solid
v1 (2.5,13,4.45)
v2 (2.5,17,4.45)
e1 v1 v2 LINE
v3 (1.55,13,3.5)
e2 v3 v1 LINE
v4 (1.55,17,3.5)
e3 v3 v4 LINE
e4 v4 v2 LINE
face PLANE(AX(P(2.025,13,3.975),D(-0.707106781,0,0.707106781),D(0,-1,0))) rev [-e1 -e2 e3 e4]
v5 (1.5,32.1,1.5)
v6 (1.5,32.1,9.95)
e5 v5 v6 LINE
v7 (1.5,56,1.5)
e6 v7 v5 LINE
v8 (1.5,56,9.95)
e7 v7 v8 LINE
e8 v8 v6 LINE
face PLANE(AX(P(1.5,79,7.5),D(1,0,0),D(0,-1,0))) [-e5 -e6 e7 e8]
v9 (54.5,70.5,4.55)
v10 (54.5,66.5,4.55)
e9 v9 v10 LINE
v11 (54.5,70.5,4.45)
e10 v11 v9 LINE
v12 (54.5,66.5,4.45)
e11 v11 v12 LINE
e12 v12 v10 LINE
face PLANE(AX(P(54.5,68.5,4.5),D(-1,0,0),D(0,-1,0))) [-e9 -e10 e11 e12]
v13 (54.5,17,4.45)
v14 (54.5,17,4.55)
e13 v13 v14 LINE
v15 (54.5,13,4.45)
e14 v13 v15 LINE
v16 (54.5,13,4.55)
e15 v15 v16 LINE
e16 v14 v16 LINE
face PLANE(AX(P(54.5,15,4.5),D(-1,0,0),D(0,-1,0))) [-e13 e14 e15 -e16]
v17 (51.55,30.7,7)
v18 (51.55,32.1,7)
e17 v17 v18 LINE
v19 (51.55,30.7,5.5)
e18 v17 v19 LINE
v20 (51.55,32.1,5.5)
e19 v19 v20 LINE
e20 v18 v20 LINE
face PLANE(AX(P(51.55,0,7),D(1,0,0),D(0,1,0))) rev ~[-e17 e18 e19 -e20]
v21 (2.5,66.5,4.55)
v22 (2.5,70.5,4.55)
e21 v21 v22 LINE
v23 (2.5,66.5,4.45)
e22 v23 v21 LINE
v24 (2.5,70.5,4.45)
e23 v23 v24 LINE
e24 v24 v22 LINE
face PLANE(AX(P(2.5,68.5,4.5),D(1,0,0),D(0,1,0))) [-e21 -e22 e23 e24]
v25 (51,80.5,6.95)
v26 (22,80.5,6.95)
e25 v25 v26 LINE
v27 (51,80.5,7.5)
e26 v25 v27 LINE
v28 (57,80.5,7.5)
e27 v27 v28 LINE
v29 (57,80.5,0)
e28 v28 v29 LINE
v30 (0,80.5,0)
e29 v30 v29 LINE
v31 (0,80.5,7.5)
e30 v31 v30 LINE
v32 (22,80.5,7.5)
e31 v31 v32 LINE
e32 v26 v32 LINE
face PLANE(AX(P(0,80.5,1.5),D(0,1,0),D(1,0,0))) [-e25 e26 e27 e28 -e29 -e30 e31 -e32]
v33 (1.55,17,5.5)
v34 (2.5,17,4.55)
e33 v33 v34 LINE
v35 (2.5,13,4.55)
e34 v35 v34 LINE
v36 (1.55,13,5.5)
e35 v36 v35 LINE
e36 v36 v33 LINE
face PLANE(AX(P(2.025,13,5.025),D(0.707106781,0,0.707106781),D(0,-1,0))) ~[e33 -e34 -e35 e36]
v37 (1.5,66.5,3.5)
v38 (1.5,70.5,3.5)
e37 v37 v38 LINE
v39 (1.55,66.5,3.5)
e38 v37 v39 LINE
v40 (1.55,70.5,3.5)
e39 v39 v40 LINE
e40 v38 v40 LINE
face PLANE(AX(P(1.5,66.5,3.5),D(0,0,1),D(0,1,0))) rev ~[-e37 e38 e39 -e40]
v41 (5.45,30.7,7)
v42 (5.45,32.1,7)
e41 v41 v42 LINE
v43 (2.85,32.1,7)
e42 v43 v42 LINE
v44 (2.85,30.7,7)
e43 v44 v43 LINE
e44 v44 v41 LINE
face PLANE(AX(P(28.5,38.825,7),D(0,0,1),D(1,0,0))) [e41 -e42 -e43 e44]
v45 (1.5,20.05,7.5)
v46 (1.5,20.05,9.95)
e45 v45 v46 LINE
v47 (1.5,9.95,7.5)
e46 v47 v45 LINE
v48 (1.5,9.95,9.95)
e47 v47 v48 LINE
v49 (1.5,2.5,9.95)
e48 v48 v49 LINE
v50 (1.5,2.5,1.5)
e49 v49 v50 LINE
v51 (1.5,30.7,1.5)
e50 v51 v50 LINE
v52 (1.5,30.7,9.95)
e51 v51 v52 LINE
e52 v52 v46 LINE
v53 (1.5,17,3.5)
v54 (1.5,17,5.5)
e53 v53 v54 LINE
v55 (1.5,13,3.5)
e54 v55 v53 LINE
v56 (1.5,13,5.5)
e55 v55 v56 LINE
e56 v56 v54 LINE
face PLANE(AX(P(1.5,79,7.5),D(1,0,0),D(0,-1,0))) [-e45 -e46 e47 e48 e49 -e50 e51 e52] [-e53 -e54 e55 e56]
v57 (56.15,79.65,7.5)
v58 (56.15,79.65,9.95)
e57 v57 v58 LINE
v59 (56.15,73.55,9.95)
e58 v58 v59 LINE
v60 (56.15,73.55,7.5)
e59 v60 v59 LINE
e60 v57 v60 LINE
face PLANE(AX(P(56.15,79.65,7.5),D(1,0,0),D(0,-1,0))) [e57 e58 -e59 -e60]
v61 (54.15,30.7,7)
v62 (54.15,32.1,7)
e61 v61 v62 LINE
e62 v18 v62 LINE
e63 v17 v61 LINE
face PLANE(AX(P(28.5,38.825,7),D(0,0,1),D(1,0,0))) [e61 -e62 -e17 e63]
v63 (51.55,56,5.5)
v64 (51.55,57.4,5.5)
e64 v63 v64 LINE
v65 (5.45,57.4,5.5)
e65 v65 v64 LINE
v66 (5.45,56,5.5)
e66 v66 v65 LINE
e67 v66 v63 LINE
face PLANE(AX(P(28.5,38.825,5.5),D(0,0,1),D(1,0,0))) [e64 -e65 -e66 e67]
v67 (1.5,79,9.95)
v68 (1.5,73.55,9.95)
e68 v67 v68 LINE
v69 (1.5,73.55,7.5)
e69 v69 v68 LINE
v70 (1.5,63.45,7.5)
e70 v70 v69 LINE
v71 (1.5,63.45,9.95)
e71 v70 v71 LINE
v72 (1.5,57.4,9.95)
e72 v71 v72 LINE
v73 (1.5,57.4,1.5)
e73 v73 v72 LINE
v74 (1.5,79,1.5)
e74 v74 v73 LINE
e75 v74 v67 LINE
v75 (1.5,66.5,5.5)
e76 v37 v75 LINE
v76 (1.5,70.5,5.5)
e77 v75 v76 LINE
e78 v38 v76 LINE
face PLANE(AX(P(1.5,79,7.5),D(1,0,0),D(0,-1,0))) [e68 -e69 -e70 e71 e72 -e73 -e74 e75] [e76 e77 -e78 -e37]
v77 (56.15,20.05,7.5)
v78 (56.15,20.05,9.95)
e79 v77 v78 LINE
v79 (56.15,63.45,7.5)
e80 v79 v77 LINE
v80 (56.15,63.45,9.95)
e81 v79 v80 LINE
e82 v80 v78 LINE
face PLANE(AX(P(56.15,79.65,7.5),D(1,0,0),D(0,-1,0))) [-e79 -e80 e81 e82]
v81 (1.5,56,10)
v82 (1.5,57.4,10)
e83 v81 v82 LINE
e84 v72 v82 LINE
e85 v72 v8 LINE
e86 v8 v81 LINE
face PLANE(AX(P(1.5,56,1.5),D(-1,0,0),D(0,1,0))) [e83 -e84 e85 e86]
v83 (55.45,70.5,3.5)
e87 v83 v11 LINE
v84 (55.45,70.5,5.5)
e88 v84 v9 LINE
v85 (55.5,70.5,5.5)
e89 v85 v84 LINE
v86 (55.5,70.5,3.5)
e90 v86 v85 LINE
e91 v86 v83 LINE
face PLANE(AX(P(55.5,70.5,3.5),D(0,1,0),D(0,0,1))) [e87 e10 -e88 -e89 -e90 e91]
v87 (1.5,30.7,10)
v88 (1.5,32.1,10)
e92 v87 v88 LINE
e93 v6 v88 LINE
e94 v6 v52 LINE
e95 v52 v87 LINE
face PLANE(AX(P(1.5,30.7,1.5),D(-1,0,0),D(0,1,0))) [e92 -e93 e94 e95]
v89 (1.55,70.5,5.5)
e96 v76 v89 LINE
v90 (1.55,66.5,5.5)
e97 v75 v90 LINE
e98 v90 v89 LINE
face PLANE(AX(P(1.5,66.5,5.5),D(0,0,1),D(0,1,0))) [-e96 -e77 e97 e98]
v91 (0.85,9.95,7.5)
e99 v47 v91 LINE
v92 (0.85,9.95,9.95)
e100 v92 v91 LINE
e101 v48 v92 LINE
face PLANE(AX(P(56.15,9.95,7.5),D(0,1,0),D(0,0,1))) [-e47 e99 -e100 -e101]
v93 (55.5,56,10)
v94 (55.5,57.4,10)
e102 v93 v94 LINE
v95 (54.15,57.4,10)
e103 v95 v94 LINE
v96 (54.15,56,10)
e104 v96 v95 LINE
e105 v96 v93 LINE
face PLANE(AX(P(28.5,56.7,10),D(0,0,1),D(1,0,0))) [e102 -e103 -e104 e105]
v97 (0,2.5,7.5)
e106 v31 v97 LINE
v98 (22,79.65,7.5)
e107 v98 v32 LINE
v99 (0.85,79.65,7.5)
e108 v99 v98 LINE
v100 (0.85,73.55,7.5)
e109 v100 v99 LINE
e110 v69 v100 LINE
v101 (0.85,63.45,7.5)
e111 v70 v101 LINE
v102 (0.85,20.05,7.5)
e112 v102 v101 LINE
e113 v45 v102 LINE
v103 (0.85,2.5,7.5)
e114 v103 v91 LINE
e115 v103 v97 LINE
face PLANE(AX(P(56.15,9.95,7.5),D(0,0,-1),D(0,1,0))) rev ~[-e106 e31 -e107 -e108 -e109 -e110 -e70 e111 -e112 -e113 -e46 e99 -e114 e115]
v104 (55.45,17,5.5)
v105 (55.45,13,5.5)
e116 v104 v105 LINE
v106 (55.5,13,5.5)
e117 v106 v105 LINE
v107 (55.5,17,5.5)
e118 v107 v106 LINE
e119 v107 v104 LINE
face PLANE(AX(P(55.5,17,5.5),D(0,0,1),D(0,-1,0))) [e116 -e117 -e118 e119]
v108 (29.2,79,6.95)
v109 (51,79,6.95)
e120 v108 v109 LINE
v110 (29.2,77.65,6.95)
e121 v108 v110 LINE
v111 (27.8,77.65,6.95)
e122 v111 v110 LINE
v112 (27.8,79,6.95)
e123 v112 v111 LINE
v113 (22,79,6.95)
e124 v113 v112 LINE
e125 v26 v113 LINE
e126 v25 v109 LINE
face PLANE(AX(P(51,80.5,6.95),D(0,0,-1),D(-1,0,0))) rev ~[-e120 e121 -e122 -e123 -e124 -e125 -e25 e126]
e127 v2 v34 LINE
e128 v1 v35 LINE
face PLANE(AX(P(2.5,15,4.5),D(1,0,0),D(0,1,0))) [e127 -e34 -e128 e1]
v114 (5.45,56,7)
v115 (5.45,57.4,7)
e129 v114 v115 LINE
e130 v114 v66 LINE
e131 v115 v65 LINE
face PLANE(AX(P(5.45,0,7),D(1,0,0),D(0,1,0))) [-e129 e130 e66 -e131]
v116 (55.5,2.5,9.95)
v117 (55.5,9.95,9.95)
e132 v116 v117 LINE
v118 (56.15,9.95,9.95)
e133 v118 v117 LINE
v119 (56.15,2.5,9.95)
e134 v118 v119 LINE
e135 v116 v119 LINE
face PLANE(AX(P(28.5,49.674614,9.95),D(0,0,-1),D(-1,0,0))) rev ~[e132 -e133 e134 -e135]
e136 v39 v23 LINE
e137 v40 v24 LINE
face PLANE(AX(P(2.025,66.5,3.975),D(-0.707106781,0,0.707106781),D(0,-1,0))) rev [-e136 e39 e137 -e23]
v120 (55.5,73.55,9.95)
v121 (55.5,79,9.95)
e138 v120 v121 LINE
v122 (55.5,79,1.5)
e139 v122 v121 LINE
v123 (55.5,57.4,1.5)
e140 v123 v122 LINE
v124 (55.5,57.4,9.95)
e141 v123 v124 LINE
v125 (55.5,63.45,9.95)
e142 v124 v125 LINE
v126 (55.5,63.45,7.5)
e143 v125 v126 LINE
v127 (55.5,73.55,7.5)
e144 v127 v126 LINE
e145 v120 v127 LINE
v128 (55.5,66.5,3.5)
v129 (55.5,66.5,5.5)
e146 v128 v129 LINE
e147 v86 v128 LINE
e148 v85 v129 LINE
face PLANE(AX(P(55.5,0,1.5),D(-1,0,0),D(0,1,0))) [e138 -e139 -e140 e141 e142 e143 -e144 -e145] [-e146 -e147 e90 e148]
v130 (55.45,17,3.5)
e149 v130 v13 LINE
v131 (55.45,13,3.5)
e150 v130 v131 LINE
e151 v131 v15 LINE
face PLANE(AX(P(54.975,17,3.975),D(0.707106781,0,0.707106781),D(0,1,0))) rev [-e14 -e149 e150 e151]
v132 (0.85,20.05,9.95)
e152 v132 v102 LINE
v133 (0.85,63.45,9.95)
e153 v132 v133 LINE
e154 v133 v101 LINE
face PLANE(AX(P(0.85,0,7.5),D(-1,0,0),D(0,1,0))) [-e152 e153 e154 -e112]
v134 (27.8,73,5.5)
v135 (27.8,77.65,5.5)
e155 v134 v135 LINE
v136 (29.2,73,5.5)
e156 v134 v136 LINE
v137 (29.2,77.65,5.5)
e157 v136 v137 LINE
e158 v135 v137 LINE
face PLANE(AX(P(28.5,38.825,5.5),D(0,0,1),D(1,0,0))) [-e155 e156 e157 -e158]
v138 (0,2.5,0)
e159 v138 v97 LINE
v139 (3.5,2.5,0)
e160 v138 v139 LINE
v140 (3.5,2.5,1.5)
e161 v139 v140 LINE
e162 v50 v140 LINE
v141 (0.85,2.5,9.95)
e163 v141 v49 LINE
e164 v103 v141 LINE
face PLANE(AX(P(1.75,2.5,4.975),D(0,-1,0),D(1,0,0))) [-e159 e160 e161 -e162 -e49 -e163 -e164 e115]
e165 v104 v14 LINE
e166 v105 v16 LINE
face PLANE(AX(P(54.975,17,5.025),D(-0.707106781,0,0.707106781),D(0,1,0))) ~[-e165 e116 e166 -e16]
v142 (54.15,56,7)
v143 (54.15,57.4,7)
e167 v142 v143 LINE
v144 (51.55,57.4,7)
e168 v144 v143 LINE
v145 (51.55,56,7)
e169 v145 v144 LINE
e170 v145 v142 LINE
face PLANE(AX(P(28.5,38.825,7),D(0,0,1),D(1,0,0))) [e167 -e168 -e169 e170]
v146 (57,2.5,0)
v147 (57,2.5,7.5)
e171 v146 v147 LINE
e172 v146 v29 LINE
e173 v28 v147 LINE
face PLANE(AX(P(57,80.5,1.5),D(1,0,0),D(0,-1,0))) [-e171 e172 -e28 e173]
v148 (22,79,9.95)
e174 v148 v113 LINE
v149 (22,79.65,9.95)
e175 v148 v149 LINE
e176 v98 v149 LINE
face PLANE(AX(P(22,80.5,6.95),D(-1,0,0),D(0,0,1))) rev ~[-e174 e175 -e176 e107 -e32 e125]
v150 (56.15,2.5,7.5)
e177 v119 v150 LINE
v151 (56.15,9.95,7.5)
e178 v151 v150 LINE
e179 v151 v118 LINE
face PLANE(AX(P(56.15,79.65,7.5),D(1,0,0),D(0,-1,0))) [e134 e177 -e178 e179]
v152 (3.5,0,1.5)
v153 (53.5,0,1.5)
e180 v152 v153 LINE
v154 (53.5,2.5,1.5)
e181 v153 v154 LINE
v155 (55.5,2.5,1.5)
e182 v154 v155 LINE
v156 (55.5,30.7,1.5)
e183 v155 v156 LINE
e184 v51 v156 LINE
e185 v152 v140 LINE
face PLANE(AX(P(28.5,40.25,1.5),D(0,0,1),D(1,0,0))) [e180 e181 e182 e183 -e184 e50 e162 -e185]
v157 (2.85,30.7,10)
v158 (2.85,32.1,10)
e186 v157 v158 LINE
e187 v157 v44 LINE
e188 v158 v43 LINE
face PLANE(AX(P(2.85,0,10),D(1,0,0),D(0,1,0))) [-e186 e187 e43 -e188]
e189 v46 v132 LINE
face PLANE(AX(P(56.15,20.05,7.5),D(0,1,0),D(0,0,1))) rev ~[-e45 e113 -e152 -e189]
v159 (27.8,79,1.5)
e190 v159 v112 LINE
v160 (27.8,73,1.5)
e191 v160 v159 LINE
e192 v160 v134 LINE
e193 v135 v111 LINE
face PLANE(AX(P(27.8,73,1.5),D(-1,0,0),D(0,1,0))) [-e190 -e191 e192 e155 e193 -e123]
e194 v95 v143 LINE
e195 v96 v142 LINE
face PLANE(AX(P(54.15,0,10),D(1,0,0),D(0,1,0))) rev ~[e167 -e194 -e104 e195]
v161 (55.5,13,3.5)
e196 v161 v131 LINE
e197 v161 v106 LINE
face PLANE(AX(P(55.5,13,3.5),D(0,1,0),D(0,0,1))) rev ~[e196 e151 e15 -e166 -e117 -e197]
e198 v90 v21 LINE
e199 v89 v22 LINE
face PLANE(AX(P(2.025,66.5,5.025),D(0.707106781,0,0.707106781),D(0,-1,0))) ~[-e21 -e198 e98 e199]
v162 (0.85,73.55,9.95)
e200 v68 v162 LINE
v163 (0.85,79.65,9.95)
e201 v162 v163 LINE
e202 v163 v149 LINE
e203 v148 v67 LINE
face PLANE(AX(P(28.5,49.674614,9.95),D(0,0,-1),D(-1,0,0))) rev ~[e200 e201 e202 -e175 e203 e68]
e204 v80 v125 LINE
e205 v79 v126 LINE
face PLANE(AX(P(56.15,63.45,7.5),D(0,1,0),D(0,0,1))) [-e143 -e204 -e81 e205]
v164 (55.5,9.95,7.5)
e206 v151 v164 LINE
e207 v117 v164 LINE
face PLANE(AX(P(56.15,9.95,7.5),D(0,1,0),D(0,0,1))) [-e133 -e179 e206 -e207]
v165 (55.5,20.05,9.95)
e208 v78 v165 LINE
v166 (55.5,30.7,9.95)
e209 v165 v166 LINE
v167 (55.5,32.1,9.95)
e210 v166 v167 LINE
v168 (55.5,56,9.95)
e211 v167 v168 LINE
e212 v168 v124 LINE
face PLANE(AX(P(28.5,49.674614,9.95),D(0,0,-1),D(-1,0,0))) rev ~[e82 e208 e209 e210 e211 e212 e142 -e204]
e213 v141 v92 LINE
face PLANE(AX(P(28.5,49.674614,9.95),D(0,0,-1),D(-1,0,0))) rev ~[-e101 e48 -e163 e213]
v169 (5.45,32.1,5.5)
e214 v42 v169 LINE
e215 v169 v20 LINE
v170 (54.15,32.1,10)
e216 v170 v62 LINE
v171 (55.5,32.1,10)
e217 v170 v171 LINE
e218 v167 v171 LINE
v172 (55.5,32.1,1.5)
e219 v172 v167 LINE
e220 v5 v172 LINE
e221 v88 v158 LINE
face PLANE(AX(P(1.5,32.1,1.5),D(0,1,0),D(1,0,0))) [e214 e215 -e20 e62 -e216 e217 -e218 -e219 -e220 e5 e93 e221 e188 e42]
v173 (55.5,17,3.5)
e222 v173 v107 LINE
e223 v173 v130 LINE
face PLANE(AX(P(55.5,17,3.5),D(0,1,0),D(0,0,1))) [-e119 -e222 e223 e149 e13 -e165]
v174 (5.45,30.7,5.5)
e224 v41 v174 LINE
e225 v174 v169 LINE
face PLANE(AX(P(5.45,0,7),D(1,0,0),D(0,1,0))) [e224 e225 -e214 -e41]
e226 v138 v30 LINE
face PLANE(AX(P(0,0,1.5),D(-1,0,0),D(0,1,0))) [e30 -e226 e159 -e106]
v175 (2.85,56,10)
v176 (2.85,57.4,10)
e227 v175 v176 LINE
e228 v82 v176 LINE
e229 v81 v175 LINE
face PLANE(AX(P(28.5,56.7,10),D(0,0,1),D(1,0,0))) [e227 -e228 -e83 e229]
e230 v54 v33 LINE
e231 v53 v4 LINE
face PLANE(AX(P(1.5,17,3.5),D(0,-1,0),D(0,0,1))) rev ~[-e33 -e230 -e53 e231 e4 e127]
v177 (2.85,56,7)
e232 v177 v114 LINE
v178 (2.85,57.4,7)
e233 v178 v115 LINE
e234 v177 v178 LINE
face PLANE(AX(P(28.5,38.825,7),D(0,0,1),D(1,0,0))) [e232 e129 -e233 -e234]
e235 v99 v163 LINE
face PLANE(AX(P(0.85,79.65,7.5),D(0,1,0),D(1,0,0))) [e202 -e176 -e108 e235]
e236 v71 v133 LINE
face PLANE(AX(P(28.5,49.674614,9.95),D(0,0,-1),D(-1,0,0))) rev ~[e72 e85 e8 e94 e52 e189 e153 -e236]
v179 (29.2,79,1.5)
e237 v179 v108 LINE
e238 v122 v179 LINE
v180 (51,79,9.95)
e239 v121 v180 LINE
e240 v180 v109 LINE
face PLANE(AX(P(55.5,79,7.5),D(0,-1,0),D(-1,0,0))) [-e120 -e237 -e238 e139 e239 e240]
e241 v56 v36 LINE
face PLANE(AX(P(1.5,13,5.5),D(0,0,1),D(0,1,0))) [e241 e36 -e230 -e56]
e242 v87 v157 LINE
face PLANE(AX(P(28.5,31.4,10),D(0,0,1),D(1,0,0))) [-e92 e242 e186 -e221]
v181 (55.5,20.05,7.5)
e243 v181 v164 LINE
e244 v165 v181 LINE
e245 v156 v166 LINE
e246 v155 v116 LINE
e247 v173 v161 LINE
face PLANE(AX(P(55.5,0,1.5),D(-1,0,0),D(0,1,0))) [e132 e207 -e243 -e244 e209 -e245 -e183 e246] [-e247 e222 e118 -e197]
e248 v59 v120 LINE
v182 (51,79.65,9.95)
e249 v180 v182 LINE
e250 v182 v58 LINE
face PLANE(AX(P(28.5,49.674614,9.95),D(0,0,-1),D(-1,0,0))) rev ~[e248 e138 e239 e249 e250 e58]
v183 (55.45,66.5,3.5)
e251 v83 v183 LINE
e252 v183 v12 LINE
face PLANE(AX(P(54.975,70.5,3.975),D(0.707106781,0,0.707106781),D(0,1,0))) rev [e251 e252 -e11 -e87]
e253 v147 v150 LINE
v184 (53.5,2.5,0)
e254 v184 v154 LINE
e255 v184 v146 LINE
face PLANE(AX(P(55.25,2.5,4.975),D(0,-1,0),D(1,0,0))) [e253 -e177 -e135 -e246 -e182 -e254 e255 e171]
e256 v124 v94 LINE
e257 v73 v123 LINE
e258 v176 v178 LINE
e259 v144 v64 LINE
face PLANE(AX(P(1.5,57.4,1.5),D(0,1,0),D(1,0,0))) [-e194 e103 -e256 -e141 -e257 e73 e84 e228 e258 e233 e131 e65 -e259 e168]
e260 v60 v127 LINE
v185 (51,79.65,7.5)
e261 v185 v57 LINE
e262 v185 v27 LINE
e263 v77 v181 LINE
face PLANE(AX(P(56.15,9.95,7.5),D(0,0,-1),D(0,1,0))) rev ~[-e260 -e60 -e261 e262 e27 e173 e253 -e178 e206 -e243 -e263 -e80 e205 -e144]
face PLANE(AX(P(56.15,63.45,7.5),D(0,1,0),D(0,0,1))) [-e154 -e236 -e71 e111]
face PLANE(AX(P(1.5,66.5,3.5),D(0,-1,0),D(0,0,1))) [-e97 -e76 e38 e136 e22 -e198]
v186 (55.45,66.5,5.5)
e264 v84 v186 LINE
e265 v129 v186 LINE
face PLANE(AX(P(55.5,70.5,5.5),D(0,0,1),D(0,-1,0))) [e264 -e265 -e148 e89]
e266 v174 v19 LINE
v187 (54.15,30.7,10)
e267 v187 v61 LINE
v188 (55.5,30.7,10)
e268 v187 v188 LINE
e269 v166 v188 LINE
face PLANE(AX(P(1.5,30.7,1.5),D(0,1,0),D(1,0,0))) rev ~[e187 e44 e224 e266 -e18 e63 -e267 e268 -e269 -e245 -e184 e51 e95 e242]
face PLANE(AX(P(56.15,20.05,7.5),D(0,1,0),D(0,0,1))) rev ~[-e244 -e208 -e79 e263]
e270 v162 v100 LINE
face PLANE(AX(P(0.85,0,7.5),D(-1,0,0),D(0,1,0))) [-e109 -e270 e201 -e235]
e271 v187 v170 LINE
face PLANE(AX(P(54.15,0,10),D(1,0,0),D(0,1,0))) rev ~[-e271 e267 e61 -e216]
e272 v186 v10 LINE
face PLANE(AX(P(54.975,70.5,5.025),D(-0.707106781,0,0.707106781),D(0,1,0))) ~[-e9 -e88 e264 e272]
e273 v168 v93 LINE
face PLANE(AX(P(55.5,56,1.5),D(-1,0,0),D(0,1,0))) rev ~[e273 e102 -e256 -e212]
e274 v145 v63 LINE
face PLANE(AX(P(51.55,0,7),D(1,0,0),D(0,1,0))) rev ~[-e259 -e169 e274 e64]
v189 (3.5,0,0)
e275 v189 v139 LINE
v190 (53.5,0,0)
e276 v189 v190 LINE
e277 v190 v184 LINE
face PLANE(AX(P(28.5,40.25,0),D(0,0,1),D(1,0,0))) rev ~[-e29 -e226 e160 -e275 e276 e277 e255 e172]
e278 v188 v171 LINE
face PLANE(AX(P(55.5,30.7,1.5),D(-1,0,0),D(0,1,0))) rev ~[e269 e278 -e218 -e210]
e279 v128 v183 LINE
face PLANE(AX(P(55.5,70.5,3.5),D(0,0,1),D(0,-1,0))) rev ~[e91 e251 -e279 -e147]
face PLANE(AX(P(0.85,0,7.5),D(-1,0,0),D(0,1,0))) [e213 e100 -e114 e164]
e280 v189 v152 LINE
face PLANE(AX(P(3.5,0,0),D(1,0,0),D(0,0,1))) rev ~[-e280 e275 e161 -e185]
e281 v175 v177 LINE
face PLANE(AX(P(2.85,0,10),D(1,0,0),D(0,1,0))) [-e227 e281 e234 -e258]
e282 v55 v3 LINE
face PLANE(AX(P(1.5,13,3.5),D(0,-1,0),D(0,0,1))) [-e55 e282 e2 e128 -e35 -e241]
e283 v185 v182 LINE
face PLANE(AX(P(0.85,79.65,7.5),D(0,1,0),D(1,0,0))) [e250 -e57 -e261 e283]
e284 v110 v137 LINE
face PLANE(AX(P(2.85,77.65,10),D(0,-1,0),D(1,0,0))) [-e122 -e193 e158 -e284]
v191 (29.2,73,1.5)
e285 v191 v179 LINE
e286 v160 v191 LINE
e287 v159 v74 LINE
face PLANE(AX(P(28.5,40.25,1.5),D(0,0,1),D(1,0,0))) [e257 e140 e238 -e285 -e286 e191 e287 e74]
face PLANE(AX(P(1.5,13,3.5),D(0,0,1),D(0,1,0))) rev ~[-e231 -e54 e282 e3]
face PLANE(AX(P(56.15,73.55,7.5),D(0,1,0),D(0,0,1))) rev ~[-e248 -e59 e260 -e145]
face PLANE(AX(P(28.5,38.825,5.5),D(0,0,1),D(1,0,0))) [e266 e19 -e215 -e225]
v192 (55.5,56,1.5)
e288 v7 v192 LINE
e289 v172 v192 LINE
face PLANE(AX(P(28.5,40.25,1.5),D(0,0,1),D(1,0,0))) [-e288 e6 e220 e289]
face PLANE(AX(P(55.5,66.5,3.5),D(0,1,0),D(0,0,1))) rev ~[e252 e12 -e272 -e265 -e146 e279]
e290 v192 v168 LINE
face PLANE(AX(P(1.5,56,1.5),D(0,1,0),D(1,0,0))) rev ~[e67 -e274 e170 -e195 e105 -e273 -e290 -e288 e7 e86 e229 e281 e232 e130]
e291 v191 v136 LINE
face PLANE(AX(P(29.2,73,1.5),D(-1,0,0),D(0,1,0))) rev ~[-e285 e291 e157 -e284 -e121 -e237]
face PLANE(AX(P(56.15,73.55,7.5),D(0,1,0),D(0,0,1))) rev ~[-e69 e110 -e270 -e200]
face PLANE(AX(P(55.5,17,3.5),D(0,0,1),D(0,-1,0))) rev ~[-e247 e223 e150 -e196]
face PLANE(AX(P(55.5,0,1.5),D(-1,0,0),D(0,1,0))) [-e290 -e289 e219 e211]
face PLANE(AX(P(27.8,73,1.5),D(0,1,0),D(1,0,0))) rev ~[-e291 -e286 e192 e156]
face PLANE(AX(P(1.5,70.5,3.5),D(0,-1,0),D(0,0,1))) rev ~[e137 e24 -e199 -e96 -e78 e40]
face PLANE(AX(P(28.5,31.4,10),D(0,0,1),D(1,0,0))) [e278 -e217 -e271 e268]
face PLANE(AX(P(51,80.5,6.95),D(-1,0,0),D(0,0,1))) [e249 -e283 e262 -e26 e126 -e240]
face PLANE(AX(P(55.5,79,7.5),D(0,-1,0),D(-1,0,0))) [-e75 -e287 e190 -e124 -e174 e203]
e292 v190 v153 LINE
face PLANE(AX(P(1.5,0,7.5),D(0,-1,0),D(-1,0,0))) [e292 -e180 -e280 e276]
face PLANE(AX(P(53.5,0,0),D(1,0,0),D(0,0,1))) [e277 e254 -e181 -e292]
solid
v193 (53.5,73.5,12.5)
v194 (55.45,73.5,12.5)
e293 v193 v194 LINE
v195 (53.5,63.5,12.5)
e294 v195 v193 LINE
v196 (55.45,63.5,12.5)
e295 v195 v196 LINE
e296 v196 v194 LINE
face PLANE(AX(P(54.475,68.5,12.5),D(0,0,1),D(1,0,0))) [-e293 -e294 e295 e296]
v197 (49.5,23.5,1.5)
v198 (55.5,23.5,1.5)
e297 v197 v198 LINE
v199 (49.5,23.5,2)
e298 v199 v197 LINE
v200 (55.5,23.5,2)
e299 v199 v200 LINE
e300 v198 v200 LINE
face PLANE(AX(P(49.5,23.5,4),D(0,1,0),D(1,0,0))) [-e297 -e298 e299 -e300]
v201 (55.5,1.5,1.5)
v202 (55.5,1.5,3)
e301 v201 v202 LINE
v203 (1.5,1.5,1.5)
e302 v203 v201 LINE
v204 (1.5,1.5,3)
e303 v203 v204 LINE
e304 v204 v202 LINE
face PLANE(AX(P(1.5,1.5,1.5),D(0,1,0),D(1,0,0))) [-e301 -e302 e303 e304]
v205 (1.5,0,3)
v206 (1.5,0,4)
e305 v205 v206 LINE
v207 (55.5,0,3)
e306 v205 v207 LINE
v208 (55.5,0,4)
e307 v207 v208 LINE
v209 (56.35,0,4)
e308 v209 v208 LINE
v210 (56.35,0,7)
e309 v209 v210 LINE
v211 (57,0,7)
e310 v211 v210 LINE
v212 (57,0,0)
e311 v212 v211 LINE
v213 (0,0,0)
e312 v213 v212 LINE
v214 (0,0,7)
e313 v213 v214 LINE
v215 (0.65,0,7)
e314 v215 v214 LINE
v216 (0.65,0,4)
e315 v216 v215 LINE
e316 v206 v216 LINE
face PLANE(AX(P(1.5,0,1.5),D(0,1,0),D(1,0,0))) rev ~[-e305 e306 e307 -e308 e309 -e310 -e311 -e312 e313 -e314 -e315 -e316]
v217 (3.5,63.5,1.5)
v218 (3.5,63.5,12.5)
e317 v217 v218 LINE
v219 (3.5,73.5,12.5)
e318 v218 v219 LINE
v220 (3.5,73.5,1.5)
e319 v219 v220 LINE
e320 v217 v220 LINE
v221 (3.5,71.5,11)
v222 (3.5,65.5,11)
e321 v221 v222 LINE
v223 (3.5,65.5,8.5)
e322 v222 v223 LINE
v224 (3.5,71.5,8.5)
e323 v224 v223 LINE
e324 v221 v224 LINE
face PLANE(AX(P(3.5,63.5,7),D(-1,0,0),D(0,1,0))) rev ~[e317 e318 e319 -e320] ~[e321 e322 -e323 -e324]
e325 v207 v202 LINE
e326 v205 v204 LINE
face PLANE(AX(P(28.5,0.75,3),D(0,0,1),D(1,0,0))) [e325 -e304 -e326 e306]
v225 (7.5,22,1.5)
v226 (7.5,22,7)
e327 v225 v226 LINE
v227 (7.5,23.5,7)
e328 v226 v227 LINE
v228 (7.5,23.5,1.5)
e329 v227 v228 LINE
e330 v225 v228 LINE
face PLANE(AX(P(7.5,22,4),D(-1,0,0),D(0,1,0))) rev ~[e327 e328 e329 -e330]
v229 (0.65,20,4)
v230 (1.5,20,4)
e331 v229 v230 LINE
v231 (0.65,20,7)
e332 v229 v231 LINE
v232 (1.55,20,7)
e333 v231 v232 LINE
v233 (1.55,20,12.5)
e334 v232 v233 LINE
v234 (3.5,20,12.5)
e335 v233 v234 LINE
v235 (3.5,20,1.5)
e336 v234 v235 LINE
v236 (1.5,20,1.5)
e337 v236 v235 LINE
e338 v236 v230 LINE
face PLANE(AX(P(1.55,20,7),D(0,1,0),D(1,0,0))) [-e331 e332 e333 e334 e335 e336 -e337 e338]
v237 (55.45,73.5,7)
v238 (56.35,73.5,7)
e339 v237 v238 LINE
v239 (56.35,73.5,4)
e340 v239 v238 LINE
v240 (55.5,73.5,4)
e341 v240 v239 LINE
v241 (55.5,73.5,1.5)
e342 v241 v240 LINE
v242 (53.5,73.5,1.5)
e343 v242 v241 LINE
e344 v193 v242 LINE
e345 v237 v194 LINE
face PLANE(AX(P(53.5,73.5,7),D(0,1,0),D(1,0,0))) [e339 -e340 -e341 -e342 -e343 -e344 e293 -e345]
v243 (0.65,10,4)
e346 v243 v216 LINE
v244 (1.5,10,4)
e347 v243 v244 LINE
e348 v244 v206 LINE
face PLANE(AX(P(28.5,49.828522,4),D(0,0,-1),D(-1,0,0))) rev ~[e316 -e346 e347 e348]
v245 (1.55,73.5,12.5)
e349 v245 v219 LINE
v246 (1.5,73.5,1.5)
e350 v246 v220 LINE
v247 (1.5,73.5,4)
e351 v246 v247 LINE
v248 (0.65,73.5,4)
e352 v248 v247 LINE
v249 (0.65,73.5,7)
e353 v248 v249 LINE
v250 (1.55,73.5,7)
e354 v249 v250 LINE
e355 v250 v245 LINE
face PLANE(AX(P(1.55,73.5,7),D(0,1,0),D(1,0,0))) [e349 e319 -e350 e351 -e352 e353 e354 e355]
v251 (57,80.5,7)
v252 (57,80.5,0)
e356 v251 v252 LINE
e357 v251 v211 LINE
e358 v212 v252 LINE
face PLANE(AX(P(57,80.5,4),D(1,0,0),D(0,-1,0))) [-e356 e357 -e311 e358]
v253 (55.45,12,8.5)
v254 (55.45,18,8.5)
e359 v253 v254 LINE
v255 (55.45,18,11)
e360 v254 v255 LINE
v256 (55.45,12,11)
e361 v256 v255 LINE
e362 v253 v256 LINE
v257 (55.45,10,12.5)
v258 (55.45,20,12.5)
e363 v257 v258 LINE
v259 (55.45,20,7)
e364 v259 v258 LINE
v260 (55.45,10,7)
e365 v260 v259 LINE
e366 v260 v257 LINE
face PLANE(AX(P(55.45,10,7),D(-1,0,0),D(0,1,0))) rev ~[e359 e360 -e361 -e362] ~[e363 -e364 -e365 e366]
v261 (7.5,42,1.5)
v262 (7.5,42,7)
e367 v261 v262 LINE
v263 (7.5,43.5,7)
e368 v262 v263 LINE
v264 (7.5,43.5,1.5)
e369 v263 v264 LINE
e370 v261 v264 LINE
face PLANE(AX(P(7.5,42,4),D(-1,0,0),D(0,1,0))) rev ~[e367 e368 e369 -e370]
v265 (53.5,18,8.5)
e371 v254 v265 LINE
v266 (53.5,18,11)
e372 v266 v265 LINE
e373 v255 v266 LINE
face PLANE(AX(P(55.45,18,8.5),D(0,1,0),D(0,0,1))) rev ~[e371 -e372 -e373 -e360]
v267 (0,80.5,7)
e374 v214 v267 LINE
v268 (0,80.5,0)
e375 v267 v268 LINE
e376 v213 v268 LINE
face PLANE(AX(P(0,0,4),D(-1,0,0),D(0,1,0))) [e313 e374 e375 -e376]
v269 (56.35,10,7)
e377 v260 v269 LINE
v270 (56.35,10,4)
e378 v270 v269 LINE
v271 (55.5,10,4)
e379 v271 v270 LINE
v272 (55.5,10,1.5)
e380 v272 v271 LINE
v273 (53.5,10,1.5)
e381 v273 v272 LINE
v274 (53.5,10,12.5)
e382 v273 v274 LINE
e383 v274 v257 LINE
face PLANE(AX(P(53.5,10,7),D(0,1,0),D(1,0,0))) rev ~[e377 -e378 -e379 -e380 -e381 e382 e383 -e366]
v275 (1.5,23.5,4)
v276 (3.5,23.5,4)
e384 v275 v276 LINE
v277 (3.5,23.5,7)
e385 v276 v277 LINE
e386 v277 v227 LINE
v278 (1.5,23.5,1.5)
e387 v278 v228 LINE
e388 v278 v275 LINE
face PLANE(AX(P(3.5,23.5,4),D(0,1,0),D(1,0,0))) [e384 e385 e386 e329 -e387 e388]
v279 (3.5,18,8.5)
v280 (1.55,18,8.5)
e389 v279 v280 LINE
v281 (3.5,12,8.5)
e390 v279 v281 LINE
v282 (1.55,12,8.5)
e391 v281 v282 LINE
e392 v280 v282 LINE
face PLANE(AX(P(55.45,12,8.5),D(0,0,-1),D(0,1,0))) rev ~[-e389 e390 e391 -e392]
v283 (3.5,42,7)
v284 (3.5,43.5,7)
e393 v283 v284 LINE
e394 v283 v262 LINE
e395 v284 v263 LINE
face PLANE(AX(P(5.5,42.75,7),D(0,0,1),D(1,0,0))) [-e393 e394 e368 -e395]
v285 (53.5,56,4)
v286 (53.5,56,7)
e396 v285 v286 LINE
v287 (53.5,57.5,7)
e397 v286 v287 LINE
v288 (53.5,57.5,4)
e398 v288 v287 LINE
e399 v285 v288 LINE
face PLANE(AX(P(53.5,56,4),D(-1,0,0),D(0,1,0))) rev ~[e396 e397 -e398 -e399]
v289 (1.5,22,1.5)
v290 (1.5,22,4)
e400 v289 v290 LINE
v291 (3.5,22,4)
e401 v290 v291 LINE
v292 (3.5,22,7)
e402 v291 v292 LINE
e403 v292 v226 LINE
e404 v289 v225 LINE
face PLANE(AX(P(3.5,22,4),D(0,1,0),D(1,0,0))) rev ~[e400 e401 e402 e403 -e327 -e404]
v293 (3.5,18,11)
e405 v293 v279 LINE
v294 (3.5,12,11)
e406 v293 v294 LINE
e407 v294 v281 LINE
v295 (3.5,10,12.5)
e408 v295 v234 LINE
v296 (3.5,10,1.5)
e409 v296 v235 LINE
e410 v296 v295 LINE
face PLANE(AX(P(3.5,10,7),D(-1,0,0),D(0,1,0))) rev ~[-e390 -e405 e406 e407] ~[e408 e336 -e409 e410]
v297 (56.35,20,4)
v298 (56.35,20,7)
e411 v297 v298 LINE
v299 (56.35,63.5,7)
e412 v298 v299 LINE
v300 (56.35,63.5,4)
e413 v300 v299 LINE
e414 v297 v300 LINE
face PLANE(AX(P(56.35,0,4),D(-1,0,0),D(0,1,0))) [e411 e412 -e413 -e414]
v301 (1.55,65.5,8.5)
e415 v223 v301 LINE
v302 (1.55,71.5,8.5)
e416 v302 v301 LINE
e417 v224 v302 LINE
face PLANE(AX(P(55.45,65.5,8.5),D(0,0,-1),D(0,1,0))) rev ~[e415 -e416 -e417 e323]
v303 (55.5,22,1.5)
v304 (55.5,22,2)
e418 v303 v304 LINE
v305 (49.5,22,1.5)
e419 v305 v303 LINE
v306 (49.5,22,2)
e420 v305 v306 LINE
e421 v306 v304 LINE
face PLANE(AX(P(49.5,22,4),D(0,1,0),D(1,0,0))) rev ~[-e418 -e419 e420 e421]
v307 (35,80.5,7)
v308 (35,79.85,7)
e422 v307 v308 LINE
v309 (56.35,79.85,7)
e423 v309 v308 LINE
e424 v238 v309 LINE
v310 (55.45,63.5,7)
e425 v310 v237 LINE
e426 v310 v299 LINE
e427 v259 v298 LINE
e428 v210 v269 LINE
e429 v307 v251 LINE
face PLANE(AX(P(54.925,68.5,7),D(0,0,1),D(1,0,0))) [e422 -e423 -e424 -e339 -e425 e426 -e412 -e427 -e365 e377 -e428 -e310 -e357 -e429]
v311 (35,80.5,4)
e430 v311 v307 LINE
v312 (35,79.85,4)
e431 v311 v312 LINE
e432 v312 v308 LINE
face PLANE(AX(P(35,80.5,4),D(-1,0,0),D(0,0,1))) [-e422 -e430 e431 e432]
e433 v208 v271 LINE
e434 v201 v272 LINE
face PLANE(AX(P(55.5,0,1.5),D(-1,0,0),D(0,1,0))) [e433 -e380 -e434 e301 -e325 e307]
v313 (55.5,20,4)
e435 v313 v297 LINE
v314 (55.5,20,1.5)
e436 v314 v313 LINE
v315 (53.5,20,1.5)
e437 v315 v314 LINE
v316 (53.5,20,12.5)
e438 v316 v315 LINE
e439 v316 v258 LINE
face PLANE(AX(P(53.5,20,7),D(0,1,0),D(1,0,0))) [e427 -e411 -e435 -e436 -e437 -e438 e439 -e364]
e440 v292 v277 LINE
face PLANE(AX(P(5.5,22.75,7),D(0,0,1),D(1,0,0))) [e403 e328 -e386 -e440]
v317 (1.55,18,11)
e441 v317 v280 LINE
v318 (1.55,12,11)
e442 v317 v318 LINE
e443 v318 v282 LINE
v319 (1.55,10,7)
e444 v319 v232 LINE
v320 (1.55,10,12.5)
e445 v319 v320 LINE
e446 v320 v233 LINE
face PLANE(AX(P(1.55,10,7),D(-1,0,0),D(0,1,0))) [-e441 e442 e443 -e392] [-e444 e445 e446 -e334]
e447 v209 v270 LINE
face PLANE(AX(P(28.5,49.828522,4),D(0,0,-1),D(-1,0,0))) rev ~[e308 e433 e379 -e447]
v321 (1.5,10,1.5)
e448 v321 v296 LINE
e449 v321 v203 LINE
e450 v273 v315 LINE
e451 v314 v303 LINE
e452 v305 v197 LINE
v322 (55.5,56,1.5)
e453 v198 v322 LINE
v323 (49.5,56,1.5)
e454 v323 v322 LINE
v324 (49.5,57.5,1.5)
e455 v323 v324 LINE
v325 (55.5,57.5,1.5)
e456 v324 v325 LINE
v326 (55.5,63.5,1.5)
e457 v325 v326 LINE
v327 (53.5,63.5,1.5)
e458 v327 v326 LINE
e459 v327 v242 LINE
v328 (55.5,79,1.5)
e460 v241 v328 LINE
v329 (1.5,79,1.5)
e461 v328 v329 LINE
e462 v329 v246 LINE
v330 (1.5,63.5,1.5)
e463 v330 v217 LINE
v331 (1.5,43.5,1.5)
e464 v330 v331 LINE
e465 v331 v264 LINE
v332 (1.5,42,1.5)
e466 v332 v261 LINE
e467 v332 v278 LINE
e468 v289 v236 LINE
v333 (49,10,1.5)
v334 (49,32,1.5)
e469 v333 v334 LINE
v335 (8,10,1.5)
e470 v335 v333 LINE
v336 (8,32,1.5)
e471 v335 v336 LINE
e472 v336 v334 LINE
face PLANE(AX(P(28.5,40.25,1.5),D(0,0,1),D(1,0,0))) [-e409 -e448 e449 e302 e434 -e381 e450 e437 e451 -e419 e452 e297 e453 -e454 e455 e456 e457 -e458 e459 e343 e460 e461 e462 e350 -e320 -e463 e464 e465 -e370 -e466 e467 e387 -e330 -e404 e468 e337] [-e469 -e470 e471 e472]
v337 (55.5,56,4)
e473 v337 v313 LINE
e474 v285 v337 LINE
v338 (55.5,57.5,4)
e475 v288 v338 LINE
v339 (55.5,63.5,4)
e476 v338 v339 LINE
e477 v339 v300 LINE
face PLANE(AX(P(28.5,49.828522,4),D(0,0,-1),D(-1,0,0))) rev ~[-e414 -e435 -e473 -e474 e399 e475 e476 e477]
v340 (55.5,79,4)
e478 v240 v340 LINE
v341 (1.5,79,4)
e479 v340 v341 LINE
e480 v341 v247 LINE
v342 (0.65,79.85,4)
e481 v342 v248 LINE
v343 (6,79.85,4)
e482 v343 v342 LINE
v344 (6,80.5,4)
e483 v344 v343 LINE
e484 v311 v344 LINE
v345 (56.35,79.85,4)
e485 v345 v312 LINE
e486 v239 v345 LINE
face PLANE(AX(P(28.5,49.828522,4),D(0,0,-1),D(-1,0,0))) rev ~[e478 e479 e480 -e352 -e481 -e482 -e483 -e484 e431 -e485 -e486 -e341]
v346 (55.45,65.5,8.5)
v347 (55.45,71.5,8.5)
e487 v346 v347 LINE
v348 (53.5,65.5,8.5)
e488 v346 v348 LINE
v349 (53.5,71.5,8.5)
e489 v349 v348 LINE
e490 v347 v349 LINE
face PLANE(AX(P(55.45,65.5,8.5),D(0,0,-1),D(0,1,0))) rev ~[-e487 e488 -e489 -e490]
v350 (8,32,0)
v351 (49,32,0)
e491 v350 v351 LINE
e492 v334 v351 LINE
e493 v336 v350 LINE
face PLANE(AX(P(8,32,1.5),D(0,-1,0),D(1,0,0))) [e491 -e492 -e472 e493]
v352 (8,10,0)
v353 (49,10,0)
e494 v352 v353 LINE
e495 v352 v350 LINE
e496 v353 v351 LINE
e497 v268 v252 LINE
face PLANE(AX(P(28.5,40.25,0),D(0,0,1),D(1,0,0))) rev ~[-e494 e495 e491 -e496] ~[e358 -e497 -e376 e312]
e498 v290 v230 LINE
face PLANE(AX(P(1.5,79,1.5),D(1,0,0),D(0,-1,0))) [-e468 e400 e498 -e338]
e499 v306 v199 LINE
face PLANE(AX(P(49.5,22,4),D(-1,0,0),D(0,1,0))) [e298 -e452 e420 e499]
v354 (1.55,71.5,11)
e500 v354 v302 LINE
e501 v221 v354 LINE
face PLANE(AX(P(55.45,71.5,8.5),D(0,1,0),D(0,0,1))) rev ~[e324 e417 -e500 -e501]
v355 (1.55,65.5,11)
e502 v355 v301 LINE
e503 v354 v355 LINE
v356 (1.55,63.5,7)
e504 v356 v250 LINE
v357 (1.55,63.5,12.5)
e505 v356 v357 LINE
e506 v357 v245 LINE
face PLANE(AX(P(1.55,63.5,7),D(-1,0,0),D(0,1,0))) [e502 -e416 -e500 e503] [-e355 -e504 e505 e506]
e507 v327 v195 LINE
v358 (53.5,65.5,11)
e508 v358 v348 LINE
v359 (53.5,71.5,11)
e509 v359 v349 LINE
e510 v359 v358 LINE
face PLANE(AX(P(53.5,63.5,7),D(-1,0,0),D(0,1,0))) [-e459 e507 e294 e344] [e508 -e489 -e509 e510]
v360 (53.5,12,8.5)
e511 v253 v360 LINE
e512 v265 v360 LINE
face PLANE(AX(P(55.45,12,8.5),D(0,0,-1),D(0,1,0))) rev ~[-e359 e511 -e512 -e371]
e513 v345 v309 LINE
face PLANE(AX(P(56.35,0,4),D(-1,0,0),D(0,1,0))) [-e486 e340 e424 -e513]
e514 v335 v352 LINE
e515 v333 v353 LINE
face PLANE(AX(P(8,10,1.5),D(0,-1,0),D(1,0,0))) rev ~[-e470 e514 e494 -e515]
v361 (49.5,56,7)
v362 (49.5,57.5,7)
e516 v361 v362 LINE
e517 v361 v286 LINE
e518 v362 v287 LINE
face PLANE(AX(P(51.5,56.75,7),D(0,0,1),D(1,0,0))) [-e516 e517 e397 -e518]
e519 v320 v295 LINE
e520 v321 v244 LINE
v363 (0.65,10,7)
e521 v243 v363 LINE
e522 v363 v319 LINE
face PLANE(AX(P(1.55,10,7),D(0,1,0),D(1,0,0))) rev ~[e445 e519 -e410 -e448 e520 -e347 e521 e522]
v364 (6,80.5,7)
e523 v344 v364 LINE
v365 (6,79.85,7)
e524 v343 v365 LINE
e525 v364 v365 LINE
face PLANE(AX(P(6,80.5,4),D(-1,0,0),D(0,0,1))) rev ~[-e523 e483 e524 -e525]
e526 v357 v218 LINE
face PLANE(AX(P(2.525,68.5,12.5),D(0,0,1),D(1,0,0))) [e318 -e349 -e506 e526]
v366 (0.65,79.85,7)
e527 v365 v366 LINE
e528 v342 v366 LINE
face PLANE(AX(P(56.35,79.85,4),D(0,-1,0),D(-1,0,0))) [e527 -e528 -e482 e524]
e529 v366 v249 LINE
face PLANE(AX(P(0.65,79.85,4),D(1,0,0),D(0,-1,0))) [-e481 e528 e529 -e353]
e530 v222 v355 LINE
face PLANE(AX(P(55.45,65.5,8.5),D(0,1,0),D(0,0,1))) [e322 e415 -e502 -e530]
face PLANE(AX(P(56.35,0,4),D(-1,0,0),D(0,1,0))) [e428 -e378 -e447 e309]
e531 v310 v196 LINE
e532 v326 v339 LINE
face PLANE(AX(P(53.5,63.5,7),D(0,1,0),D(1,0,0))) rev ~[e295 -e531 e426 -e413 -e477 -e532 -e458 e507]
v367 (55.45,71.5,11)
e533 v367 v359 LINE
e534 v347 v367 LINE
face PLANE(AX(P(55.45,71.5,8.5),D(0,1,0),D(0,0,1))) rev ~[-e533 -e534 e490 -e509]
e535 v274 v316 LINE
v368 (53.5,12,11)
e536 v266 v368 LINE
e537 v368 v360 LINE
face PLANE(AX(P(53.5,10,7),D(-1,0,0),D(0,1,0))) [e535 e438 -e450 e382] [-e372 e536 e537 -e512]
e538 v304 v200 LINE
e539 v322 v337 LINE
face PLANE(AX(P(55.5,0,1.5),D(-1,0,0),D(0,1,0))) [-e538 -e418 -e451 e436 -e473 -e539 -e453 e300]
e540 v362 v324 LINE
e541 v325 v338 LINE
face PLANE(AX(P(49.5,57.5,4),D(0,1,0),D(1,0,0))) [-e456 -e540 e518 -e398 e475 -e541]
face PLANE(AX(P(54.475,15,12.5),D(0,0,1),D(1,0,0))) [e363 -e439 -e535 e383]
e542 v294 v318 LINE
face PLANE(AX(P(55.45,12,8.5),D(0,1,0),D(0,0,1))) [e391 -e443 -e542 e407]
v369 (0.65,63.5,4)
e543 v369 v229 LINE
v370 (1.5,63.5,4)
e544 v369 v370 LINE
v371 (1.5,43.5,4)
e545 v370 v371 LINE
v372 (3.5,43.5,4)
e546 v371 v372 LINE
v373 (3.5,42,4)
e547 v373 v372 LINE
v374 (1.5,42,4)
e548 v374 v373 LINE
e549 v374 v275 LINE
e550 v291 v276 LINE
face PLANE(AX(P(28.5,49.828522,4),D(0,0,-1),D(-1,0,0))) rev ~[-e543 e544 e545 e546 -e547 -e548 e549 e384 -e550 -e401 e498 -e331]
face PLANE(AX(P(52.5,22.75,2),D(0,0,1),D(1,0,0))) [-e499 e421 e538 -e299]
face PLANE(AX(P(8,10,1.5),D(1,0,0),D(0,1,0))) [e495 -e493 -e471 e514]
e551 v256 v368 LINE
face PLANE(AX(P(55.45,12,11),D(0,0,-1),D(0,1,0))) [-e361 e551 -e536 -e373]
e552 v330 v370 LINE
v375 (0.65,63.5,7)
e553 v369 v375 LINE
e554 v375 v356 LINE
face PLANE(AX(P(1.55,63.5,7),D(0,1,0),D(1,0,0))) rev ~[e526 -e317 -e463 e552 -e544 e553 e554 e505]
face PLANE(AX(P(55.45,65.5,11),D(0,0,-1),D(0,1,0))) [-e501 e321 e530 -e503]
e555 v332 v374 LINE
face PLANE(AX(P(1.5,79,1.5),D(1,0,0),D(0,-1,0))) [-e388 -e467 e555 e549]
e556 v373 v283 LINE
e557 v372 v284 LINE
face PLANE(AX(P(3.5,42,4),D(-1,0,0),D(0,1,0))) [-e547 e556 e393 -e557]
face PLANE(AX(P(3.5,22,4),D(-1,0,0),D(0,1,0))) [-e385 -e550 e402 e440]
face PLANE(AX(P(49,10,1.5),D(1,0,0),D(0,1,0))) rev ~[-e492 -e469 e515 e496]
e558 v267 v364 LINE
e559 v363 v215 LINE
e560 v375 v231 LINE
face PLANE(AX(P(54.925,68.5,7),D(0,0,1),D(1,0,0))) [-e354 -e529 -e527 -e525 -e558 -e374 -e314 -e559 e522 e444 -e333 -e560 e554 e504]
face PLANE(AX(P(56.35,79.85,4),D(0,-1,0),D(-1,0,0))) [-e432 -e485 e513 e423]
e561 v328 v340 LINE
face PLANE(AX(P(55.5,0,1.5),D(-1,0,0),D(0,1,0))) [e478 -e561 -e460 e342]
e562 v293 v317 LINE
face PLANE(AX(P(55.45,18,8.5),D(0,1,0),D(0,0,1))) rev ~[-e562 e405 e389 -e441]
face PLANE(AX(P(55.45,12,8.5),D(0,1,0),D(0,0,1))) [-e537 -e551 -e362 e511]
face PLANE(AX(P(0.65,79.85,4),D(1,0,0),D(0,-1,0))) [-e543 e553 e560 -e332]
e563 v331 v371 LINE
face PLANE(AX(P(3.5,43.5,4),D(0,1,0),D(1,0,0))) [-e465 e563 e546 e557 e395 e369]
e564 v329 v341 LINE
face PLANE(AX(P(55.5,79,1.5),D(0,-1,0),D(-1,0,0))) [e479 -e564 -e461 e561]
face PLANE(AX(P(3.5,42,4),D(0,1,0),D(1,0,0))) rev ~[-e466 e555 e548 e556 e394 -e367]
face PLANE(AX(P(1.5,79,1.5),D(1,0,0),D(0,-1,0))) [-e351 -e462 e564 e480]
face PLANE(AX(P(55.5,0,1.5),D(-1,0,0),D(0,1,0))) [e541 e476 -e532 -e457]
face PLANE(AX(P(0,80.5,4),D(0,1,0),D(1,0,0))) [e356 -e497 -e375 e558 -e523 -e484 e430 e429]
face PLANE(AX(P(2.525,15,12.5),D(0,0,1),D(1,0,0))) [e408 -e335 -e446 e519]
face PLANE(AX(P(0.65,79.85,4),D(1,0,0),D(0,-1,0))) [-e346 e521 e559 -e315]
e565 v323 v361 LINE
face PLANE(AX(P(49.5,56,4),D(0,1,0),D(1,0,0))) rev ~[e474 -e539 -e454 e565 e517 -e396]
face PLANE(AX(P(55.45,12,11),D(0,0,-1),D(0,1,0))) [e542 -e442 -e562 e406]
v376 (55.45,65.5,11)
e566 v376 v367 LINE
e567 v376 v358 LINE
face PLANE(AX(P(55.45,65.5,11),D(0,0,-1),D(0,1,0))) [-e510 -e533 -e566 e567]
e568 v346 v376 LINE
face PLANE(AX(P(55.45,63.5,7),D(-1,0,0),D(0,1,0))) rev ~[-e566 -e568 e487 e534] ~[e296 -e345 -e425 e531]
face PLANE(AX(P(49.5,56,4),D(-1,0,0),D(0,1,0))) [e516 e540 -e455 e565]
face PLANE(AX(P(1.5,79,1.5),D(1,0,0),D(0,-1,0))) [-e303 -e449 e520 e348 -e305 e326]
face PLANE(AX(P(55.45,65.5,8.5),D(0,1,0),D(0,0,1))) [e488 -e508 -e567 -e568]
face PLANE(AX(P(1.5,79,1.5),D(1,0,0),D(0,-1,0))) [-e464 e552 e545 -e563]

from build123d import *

# Parameters (mm, degrees)
SKETCH_W        = 57
SKETCH_H        = 80.5
PAD_DEPTH       = 1.5
PAD001_DEPTH    = 6
PAD002_DEPTH    = 2.45
SKETCH003_W     = 54
SKETCH003_H     = 1.4
SKETCH003_W_2   = 1.4
SKETCH003_H_2   = 6
PAD003_DEPTH    = 8.5
SKETCH004_W     = 51.3
SKETCH004_H     = 77.65
POCKET_DEPTH    = 3
SKETCH005_W     = 46.1
SKETCH005_H     = 77.65
POCKET001_DEPTH = 1.5
SKETCH027_W     = 10.1
SKETCH027_H     = 2.45
POCKET003_DEPTH = 56.151
SKETCH028_W     = 4
SKETCH028_H     = 2
PAD024_DEPTH    = 1
SKETCH029_W     = 4
SKETCH029_H     = 2
PAD025_DEPTH    = 1
CHAMFER_SIZE    = 0.95
SKETCH030_W     = 3.5
SKETCH030_H     = 9.95
POCKET004_DEPTH = 2.5
SKETCH034_W     = 29
SKETCH034_H     = 3.5
POCKET008_DEPTH = 3
SKETCH006_W     = 57
SKETCH006_H     = 80.5
PAD004_DEPTH    = 1.5
PAD005_DEPTH    = 2.5
PAD006_DEPTH    = 3
SKETCH009_W     = 54
SKETCH009_H     = 1.5
PAD007_DEPTH    = 1.5
SKETCH010_W     = 6
SKETCH010_H     = 1.5
PAD008_DEPTH    = 2.5
SKETCH011_W     = 6
SKETCH011_H     = 1.5
PAD009_DEPTH    = 2.5
SKETCH012_W     = 6
SKETCH012_H     = 1.5
PAD010_DEPTH    = 2.5
SKETCH013_W     = 4
SKETCH013_H     = 1.5
PAD011_DEPTH    = 3
SKETCH014_W     = 4
SKETCH014_H     = 1.5
PAD012_DEPTH    = 3
SKETCH015_W     = 4
SKETCH015_H     = 1.5
PAD013_DEPTH    = 3
SKETCH016_W     = 4
SKETCH016_H     = 1.5
PAD014_DEPTH    = 3
SKETCH017_W     = 2
SKETCH017_H     = 10
PAD015_DEPTH    = 2.5
SKETCH018_W     = 2.85
SKETCH018_H     = 10
PAD016_DEPTH    = 3
SKETCH019_W     = 2.85
SKETCH019_H     = 10
PAD017_DEPTH    = 3
SKETCH020_W     = 2.85
SKETCH020_H     = 10
PAD018_DEPTH    = 3
SKETCH021_W     = 2.85
SKETCH021_H     = 10
PAD019_DEPTH    = 3
SKETCH022_W     = 1.95
SKETCH022_H     = 10
PAD020_DEPTH    = 5.5
SKETCH023_W     = 1.95
SKETCH023_H     = 10
PAD021_DEPTH    = 5.5
SKETCH024_W     = 1.95
SKETCH024_H     = 10
PAD022_DEPTH    = 5.5
SKETCH025_W     = 1.95
SKETCH025_H     = 10
PAD023_DEPTH    = 5.5
SKETCH026_W     = 6
SKETCH026_H     = 2.5
POCKET002_DEPTH = 55.451
SKETCH031_W     = 6
SKETCH031_H     = 1.5
POCKET005_DEPTH = 5
SKETCH032_W     = 41
SKETCH032_H     = 22
POCKET006_DEPTH = 1.5
SKETCH033_W     = 29
SKETCH033_H     = 3
POCKET007_DEPTH = 0.65


with BuildPart() as bottom:
    # Sketch → Pad (new body)
    with BuildSketch(Plane.XY):
        with Locations((28.5, 40.25)):
            Rectangle(SKETCH_W, SKETCH_H)
    extrude(amount=PAD_DEPTH)

    # Sketch001 (on Face6 of Pad) → Pad001 (join)
    with BuildSketch(Plane.XY.offset(1.5)):
        Polygon((0, 0), (0, 80.5), (57, 80.5), (57, 0), (55.5, 0), (55.5, 79), (1.5, 79), (1.5, 0), align=None)
    extrude(amount=PAD001_DEPTH)

    # Sketch002 (on Face12 of Pad001) → Pad002 (join)
    with BuildSketch(Plane.XY.offset(7.5)):
        Polygon((1.5, 0), (0.85, 0), (0.85, 79.65), (56.15, 79.65), (56.15, 0), (55.5, 0), (55.5, 79), (1.5, 79), align=None)
    extrude(amount=PAD002_DEPTH)

    # Sketch003 (on Face6 of Pad002) → Pad003 (join)
    with BuildSketch(Plane.XY.offset(1.5)):
        with Locations((28.5, 31.4)):
            Rectangle(SKETCH003_W, SKETCH003_H)
        with Locations((28.5, 56.7)):
            Rectangle(SKETCH003_W, SKETCH003_H)
        with Locations((28.5, 76)):
            Rectangle(SKETCH003_W_2, SKETCH003_H_2)
    extrude(amount=PAD003_DEPTH)

    # Sketch004 (on Face26 of Pad003) → Pocket (cut)
    with BuildSketch(Plane.XY.offset(10)):
        with Locations((28.5, 38.825)):
            Rectangle(SKETCH004_W, SKETCH004_H)
    extrude(amount=-POCKET_DEPTH, mode=Mode.SUBTRACT)

    # Sketch005 (on Face26 of Pocket) → Pocket001 (cut)
    with BuildSketch(Plane.XY.offset(7)):
        with Locations((28.5, 38.825)):
            Rectangle(SKETCH005_W, SKETCH005_H)
    extrude(amount=-POCKET001_DEPTH, mode=Mode.SUBTRACT)

    # Sketch027 (on Face19 of Pocket001) → Pocket003 (cut, through all)
    with BuildSketch(Plane.YZ.offset(56.15)):
        with Locations((15, 8.725)):
            Rectangle(SKETCH027_W, SKETCH027_H)
        with Locations((68.5, 8.725)):
            Rectangle(SKETCH027_W, SKETCH027_H)
    extrude(amount=-POCKET003_DEPTH, mode=Mode.SUBTRACT)

    # Sketch028 (on Face11 of Pocket003) → Pad024 (join)
    with BuildSketch(Plane.YZ.offset(1.5)):
        with Locations((15, 4.5)):
            Rectangle(SKETCH028_W, SKETCH028_H)
        with Locations((68.5, 4.5)):
            Rectangle(SKETCH028_W, SKETCH028_H)
    extrude(amount=PAD024_DEPTH)

    # Sketch029 (on Face15 of Pad024) → Pad025 (join)
    with BuildSketch(Plane(origin=(55.5, 0, 0), x_dir=(0, -1, 0), z_dir=(-1, 0, 0))):
        with Locations((-15, 4.5)):
            Rectangle(SKETCH029_W, SKETCH029_H)
        with Locations((-68.5, 4.5)):
            Rectangle(SKETCH029_W, SKETCH029_H)
    extrude(amount=PAD025_DEPTH)

    # Chamfer
    chamfer_edges = [bottom.edges().sort_by_distance(p)[0] for p in [
        (2.5, 15, 3.5),
        (2.5, 15, 5.5),
        (2.5, 68.5, 5.5),
        (2.5, 68.5, 3.5),
        (54.5, 68.5, 3.5),
        (54.5, 68.5, 5.5),
        (54.5, 15, 5.5),
        (54.5, 15, 3.5),
    ]]
    chamfer(chamfer_edges, length=CHAMFER_SIZE)

    # Sketch030 (on Face16 of Chamfer) → Pocket004 (cut)
    with BuildSketch(Plane.XZ):
        with Locations((1.75, 4.975)):
            Rectangle(SKETCH030_W, SKETCH030_H)
        with Locations((55.25, 4.975)):
            Rectangle(SKETCH030_W, SKETCH030_H)
    extrude(amount=-POCKET004_DEPTH, mode=Mode.SUBTRACT)

    # Sketch034 (on Face54 of Pocket004) → Pocket008 (cut)
    with BuildSketch(Plane(origin=(0, 80.5, 0), x_dir=(-1, 0, 0), z_dir=(0, 1, 0))):
        with Locations((-36.5, 8.7)):
            Rectangle(SKETCH034_W, SKETCH034_H)
    extrude(amount=-POCKET008_DEPTH, mode=Mode.SUBTRACT)


with BuildPart() as top:
    # Sketch006 → Pad004 (new body)
    with BuildSketch(Plane.XY):
        with Locations((28.5, 40.25)):
            Rectangle(SKETCH006_W, SKETCH006_H)
    extrude(amount=PAD004_DEPTH)

    # Sketch007 (on Face6 of Pad004) → Pad005 (join)
    with BuildSketch(Plane.XY.offset(1.5)):
        Polygon((0, 0), (0, 80.5), (57, 80.5), (57, 0), (55.5, 0), (55.5, 79), (1.5, 79), (1.5, 0), align=None)
    extrude(amount=PAD005_DEPTH)

    # Sketch008 (on Face12 of Pad005) → Pad006 (join)
    with BuildSketch(Plane.XY.offset(4)):
        Polygon((0, 0), (0, 80.5), (57, 80.5), (57, 0), (56.35, 0), (56.35, 79.85), (0.65, 79.85), (0.65, 0), align=None)
    extrude(amount=PAD006_DEPTH)

    # Sketch009 (on Face6 of Pad006) → Pad007 (join)
    with BuildSketch(Plane.XY.offset(1.5)):
        with Locations((28.5, 0.75)):
            Rectangle(SKETCH009_W, SKETCH009_H)
    extrude(amount=PAD007_DEPTH)

    # Sketch010 (on Face20 of Pad007) → Pad008 (join)
    with BuildSketch(Plane.XY.offset(1.5)):
        with Locations((52.5, 22.75)):
            Rectangle(SKETCH010_W, SKETCH010_H)
        with Locations((4.5, 22.75)):
            Rectangle(SKETCH010_W, SKETCH010_H)
    extrude(amount=PAD008_DEPTH)

    # Sketch011 (on Face20 of Pad008) → Pad009 (join)
    with BuildSketch(Plane.XY.offset(1.5)):
        with Locations((52.5, 56.75)):
            Rectangle(SKETCH011_W, SKETCH011_H)
    extrude(amount=PAD009_DEPTH)

    # Sketch012 (on Face20 of Pad009) → Pad010 (join)
    with BuildSketch(Plane.XY.offset(1.5)):
        with Locations((4.5, 42.75)):
            Rectangle(SKETCH012_W, SKETCH012_H)
    extrude(amount=PAD010_DEPTH)

    # Sketch013 (on Face35 of Pad010) → Pad011 (join)
    with BuildSketch(Plane.XY.offset(4)):
        with Locations((5.5, 22.75)):
            Rectangle(SKETCH013_W, SKETCH013_H)
    extrude(amount=PAD011_DEPTH)

    # Sketch014 (on Face27 of Pad011) → Pad012 (join)
    with BuildSketch(Plane.XY.offset(4)):
        with Locations((51.5, 22.75)):
            Rectangle(SKETCH014_W, SKETCH014_H)
    extrude(amount=PAD012_DEPTH)

    # Sketch015 (on Face29 of Pad012) → Pad013 (join)
    with BuildSketch(Plane.XY.offset(4)):
        with Locations((51.5, 56.75)):
            Rectangle(SKETCH015_W, SKETCH015_H)
    extrude(amount=PAD013_DEPTH)

    # Sketch016 (on Face33 of Pad013) → Pad014 (join)
    with BuildSketch(Plane.XY.offset(4)):
        with Locations((5.5, 42.75)):
            Rectangle(SKETCH016_W, SKETCH016_H)
    extrude(amount=PAD014_DEPTH)

    # Sketch017 (on Face20 of Pad014) → Pad015 (join)
    with BuildSketch(Plane.XY.offset(1.5)):
        with Locations((2.5, 15)):
            Rectangle(SKETCH017_W, SKETCH017_H)
        with Locations((54.5, 15)):
            Rectangle(SKETCH017_W, SKETCH017_H)
        with Locations((2.5, 68.5)):
            Rectangle(SKETCH017_W, SKETCH017_H)
        with Locations((54.5, 68.5)):
            Rectangle(SKETCH017_W, SKETCH017_H)
    extrude(amount=PAD015_DEPTH)

    # Sketch018 (on Face43 of Pad015) → Pad016 (join)
    with BuildSketch(Plane.XY.offset(4)):
        with Locations((2.075, 15)):
            Rectangle(SKETCH018_W, SKETCH018_H)
    extrude(amount=PAD016_DEPTH)

    # Sketch019 (on Face30 of Pad016) → Pad017 (join)
    with BuildSketch(Plane.XY.offset(4)):
        with Locations((54.925, 15)):
            Rectangle(SKETCH019_W, SKETCH019_H)
    extrude(amount=PAD017_DEPTH)

    # Sketch020 (on Face82 of Pad017) → Pad018 (join)
    with BuildSketch(Plane.XY.offset(4)):
        with Locations((2.075, 68.5)):
            Rectangle(SKETCH020_W, SKETCH020_H)
    extrude(amount=PAD018_DEPTH)

    # Sketch021 (on Face88 of Pad018) → Pad019 (join)
    with BuildSketch(Plane.XY.offset(4)):
        with Locations((54.925, 68.5)):
            Rectangle(SKETCH021_W, SKETCH021_H)
    extrude(amount=PAD019_DEPTH)

    # Sketch022 (on Face70 of Pad019) → Pad020 (join)
    with BuildSketch(Plane.XY.offset(7)):
        with Locations((2.525, 15)):
            Rectangle(SKETCH022_W, SKETCH022_H)
    extrude(amount=PAD020_DEPTH)

    # Sketch023 (on Face62 of Pad020) → Pad021 (join)
    with BuildSketch(Plane.XY.offset(7)):
        with Locations((54.475, 15)):
            Rectangle(SKETCH023_W, SKETCH023_H)
    extrude(amount=PAD021_DEPTH)

    # Sketch024 (on Face68 of Pad021) → Pad022 (join)
    with BuildSketch(Plane.XY.offset(7)):
        with Locations((2.525, 68.5)):
            Rectangle(SKETCH024_W, SKETCH024_H)
    extrude(amount=PAD022_DEPTH)

    # Sketch025 (on Face64 of Pad022) → Pad023 (join)
    with BuildSketch(Plane.XY.offset(7)):
        with Locations((54.475, 68.5)):
            Rectangle(SKETCH025_W, SKETCH025_H)
    extrude(amount=PAD023_DEPTH)

    # Sketch026 (on Face102 of Pad023) → Pocket002 (cut, through all)
    with BuildSketch(Plane.YZ.offset(55.45)):
        with Locations((15, 9.75)):
            Rectangle(SKETCH026_W, SKETCH026_H)
        with Locations((68.5, 9.75)):
            Rectangle(SKETCH026_W, SKETCH026_H)
    extrude(amount=-POCKET002_DEPTH, mode=Mode.SUBTRACT)

    # Sketch031 (on Face115 of Pocket002) → Pocket005 (cut)
    with BuildSketch(Plane.XY.offset(7)):
        with Locations((52.5, 22.75)):
            Rectangle(SKETCH031_W, SKETCH031_H)
    extrude(amount=-POCKET005_DEPTH, mode=Mode.SUBTRACT)

    # Sketch032 (on Face21 of Pocket005) → Pocket006 (cut)
    with BuildSketch(Plane.XY.offset(1.5)):
        with Locations((28.5, 21)):
            Rectangle(SKETCH032_W, SKETCH032_H)
    extrude(amount=-POCKET006_DEPTH, mode=Mode.SUBTRACT)

    # Sketch033 (on Face22 of Pocket006) → Pocket007 (cut)
    with BuildSketch(Plane(origin=(0, 80.5, 0), x_dir=(-1, 0, 0), z_dir=(0, 1, 0))):
        with Locations((-20.5, 5.5)):
            Rectangle(SKETCH033_W, SKETCH033_H)
    extrude(amount=-POCKET007_DEPTH, mode=Mode.SUBTRACT)


solid = Compound([bottom.part, top.part])
